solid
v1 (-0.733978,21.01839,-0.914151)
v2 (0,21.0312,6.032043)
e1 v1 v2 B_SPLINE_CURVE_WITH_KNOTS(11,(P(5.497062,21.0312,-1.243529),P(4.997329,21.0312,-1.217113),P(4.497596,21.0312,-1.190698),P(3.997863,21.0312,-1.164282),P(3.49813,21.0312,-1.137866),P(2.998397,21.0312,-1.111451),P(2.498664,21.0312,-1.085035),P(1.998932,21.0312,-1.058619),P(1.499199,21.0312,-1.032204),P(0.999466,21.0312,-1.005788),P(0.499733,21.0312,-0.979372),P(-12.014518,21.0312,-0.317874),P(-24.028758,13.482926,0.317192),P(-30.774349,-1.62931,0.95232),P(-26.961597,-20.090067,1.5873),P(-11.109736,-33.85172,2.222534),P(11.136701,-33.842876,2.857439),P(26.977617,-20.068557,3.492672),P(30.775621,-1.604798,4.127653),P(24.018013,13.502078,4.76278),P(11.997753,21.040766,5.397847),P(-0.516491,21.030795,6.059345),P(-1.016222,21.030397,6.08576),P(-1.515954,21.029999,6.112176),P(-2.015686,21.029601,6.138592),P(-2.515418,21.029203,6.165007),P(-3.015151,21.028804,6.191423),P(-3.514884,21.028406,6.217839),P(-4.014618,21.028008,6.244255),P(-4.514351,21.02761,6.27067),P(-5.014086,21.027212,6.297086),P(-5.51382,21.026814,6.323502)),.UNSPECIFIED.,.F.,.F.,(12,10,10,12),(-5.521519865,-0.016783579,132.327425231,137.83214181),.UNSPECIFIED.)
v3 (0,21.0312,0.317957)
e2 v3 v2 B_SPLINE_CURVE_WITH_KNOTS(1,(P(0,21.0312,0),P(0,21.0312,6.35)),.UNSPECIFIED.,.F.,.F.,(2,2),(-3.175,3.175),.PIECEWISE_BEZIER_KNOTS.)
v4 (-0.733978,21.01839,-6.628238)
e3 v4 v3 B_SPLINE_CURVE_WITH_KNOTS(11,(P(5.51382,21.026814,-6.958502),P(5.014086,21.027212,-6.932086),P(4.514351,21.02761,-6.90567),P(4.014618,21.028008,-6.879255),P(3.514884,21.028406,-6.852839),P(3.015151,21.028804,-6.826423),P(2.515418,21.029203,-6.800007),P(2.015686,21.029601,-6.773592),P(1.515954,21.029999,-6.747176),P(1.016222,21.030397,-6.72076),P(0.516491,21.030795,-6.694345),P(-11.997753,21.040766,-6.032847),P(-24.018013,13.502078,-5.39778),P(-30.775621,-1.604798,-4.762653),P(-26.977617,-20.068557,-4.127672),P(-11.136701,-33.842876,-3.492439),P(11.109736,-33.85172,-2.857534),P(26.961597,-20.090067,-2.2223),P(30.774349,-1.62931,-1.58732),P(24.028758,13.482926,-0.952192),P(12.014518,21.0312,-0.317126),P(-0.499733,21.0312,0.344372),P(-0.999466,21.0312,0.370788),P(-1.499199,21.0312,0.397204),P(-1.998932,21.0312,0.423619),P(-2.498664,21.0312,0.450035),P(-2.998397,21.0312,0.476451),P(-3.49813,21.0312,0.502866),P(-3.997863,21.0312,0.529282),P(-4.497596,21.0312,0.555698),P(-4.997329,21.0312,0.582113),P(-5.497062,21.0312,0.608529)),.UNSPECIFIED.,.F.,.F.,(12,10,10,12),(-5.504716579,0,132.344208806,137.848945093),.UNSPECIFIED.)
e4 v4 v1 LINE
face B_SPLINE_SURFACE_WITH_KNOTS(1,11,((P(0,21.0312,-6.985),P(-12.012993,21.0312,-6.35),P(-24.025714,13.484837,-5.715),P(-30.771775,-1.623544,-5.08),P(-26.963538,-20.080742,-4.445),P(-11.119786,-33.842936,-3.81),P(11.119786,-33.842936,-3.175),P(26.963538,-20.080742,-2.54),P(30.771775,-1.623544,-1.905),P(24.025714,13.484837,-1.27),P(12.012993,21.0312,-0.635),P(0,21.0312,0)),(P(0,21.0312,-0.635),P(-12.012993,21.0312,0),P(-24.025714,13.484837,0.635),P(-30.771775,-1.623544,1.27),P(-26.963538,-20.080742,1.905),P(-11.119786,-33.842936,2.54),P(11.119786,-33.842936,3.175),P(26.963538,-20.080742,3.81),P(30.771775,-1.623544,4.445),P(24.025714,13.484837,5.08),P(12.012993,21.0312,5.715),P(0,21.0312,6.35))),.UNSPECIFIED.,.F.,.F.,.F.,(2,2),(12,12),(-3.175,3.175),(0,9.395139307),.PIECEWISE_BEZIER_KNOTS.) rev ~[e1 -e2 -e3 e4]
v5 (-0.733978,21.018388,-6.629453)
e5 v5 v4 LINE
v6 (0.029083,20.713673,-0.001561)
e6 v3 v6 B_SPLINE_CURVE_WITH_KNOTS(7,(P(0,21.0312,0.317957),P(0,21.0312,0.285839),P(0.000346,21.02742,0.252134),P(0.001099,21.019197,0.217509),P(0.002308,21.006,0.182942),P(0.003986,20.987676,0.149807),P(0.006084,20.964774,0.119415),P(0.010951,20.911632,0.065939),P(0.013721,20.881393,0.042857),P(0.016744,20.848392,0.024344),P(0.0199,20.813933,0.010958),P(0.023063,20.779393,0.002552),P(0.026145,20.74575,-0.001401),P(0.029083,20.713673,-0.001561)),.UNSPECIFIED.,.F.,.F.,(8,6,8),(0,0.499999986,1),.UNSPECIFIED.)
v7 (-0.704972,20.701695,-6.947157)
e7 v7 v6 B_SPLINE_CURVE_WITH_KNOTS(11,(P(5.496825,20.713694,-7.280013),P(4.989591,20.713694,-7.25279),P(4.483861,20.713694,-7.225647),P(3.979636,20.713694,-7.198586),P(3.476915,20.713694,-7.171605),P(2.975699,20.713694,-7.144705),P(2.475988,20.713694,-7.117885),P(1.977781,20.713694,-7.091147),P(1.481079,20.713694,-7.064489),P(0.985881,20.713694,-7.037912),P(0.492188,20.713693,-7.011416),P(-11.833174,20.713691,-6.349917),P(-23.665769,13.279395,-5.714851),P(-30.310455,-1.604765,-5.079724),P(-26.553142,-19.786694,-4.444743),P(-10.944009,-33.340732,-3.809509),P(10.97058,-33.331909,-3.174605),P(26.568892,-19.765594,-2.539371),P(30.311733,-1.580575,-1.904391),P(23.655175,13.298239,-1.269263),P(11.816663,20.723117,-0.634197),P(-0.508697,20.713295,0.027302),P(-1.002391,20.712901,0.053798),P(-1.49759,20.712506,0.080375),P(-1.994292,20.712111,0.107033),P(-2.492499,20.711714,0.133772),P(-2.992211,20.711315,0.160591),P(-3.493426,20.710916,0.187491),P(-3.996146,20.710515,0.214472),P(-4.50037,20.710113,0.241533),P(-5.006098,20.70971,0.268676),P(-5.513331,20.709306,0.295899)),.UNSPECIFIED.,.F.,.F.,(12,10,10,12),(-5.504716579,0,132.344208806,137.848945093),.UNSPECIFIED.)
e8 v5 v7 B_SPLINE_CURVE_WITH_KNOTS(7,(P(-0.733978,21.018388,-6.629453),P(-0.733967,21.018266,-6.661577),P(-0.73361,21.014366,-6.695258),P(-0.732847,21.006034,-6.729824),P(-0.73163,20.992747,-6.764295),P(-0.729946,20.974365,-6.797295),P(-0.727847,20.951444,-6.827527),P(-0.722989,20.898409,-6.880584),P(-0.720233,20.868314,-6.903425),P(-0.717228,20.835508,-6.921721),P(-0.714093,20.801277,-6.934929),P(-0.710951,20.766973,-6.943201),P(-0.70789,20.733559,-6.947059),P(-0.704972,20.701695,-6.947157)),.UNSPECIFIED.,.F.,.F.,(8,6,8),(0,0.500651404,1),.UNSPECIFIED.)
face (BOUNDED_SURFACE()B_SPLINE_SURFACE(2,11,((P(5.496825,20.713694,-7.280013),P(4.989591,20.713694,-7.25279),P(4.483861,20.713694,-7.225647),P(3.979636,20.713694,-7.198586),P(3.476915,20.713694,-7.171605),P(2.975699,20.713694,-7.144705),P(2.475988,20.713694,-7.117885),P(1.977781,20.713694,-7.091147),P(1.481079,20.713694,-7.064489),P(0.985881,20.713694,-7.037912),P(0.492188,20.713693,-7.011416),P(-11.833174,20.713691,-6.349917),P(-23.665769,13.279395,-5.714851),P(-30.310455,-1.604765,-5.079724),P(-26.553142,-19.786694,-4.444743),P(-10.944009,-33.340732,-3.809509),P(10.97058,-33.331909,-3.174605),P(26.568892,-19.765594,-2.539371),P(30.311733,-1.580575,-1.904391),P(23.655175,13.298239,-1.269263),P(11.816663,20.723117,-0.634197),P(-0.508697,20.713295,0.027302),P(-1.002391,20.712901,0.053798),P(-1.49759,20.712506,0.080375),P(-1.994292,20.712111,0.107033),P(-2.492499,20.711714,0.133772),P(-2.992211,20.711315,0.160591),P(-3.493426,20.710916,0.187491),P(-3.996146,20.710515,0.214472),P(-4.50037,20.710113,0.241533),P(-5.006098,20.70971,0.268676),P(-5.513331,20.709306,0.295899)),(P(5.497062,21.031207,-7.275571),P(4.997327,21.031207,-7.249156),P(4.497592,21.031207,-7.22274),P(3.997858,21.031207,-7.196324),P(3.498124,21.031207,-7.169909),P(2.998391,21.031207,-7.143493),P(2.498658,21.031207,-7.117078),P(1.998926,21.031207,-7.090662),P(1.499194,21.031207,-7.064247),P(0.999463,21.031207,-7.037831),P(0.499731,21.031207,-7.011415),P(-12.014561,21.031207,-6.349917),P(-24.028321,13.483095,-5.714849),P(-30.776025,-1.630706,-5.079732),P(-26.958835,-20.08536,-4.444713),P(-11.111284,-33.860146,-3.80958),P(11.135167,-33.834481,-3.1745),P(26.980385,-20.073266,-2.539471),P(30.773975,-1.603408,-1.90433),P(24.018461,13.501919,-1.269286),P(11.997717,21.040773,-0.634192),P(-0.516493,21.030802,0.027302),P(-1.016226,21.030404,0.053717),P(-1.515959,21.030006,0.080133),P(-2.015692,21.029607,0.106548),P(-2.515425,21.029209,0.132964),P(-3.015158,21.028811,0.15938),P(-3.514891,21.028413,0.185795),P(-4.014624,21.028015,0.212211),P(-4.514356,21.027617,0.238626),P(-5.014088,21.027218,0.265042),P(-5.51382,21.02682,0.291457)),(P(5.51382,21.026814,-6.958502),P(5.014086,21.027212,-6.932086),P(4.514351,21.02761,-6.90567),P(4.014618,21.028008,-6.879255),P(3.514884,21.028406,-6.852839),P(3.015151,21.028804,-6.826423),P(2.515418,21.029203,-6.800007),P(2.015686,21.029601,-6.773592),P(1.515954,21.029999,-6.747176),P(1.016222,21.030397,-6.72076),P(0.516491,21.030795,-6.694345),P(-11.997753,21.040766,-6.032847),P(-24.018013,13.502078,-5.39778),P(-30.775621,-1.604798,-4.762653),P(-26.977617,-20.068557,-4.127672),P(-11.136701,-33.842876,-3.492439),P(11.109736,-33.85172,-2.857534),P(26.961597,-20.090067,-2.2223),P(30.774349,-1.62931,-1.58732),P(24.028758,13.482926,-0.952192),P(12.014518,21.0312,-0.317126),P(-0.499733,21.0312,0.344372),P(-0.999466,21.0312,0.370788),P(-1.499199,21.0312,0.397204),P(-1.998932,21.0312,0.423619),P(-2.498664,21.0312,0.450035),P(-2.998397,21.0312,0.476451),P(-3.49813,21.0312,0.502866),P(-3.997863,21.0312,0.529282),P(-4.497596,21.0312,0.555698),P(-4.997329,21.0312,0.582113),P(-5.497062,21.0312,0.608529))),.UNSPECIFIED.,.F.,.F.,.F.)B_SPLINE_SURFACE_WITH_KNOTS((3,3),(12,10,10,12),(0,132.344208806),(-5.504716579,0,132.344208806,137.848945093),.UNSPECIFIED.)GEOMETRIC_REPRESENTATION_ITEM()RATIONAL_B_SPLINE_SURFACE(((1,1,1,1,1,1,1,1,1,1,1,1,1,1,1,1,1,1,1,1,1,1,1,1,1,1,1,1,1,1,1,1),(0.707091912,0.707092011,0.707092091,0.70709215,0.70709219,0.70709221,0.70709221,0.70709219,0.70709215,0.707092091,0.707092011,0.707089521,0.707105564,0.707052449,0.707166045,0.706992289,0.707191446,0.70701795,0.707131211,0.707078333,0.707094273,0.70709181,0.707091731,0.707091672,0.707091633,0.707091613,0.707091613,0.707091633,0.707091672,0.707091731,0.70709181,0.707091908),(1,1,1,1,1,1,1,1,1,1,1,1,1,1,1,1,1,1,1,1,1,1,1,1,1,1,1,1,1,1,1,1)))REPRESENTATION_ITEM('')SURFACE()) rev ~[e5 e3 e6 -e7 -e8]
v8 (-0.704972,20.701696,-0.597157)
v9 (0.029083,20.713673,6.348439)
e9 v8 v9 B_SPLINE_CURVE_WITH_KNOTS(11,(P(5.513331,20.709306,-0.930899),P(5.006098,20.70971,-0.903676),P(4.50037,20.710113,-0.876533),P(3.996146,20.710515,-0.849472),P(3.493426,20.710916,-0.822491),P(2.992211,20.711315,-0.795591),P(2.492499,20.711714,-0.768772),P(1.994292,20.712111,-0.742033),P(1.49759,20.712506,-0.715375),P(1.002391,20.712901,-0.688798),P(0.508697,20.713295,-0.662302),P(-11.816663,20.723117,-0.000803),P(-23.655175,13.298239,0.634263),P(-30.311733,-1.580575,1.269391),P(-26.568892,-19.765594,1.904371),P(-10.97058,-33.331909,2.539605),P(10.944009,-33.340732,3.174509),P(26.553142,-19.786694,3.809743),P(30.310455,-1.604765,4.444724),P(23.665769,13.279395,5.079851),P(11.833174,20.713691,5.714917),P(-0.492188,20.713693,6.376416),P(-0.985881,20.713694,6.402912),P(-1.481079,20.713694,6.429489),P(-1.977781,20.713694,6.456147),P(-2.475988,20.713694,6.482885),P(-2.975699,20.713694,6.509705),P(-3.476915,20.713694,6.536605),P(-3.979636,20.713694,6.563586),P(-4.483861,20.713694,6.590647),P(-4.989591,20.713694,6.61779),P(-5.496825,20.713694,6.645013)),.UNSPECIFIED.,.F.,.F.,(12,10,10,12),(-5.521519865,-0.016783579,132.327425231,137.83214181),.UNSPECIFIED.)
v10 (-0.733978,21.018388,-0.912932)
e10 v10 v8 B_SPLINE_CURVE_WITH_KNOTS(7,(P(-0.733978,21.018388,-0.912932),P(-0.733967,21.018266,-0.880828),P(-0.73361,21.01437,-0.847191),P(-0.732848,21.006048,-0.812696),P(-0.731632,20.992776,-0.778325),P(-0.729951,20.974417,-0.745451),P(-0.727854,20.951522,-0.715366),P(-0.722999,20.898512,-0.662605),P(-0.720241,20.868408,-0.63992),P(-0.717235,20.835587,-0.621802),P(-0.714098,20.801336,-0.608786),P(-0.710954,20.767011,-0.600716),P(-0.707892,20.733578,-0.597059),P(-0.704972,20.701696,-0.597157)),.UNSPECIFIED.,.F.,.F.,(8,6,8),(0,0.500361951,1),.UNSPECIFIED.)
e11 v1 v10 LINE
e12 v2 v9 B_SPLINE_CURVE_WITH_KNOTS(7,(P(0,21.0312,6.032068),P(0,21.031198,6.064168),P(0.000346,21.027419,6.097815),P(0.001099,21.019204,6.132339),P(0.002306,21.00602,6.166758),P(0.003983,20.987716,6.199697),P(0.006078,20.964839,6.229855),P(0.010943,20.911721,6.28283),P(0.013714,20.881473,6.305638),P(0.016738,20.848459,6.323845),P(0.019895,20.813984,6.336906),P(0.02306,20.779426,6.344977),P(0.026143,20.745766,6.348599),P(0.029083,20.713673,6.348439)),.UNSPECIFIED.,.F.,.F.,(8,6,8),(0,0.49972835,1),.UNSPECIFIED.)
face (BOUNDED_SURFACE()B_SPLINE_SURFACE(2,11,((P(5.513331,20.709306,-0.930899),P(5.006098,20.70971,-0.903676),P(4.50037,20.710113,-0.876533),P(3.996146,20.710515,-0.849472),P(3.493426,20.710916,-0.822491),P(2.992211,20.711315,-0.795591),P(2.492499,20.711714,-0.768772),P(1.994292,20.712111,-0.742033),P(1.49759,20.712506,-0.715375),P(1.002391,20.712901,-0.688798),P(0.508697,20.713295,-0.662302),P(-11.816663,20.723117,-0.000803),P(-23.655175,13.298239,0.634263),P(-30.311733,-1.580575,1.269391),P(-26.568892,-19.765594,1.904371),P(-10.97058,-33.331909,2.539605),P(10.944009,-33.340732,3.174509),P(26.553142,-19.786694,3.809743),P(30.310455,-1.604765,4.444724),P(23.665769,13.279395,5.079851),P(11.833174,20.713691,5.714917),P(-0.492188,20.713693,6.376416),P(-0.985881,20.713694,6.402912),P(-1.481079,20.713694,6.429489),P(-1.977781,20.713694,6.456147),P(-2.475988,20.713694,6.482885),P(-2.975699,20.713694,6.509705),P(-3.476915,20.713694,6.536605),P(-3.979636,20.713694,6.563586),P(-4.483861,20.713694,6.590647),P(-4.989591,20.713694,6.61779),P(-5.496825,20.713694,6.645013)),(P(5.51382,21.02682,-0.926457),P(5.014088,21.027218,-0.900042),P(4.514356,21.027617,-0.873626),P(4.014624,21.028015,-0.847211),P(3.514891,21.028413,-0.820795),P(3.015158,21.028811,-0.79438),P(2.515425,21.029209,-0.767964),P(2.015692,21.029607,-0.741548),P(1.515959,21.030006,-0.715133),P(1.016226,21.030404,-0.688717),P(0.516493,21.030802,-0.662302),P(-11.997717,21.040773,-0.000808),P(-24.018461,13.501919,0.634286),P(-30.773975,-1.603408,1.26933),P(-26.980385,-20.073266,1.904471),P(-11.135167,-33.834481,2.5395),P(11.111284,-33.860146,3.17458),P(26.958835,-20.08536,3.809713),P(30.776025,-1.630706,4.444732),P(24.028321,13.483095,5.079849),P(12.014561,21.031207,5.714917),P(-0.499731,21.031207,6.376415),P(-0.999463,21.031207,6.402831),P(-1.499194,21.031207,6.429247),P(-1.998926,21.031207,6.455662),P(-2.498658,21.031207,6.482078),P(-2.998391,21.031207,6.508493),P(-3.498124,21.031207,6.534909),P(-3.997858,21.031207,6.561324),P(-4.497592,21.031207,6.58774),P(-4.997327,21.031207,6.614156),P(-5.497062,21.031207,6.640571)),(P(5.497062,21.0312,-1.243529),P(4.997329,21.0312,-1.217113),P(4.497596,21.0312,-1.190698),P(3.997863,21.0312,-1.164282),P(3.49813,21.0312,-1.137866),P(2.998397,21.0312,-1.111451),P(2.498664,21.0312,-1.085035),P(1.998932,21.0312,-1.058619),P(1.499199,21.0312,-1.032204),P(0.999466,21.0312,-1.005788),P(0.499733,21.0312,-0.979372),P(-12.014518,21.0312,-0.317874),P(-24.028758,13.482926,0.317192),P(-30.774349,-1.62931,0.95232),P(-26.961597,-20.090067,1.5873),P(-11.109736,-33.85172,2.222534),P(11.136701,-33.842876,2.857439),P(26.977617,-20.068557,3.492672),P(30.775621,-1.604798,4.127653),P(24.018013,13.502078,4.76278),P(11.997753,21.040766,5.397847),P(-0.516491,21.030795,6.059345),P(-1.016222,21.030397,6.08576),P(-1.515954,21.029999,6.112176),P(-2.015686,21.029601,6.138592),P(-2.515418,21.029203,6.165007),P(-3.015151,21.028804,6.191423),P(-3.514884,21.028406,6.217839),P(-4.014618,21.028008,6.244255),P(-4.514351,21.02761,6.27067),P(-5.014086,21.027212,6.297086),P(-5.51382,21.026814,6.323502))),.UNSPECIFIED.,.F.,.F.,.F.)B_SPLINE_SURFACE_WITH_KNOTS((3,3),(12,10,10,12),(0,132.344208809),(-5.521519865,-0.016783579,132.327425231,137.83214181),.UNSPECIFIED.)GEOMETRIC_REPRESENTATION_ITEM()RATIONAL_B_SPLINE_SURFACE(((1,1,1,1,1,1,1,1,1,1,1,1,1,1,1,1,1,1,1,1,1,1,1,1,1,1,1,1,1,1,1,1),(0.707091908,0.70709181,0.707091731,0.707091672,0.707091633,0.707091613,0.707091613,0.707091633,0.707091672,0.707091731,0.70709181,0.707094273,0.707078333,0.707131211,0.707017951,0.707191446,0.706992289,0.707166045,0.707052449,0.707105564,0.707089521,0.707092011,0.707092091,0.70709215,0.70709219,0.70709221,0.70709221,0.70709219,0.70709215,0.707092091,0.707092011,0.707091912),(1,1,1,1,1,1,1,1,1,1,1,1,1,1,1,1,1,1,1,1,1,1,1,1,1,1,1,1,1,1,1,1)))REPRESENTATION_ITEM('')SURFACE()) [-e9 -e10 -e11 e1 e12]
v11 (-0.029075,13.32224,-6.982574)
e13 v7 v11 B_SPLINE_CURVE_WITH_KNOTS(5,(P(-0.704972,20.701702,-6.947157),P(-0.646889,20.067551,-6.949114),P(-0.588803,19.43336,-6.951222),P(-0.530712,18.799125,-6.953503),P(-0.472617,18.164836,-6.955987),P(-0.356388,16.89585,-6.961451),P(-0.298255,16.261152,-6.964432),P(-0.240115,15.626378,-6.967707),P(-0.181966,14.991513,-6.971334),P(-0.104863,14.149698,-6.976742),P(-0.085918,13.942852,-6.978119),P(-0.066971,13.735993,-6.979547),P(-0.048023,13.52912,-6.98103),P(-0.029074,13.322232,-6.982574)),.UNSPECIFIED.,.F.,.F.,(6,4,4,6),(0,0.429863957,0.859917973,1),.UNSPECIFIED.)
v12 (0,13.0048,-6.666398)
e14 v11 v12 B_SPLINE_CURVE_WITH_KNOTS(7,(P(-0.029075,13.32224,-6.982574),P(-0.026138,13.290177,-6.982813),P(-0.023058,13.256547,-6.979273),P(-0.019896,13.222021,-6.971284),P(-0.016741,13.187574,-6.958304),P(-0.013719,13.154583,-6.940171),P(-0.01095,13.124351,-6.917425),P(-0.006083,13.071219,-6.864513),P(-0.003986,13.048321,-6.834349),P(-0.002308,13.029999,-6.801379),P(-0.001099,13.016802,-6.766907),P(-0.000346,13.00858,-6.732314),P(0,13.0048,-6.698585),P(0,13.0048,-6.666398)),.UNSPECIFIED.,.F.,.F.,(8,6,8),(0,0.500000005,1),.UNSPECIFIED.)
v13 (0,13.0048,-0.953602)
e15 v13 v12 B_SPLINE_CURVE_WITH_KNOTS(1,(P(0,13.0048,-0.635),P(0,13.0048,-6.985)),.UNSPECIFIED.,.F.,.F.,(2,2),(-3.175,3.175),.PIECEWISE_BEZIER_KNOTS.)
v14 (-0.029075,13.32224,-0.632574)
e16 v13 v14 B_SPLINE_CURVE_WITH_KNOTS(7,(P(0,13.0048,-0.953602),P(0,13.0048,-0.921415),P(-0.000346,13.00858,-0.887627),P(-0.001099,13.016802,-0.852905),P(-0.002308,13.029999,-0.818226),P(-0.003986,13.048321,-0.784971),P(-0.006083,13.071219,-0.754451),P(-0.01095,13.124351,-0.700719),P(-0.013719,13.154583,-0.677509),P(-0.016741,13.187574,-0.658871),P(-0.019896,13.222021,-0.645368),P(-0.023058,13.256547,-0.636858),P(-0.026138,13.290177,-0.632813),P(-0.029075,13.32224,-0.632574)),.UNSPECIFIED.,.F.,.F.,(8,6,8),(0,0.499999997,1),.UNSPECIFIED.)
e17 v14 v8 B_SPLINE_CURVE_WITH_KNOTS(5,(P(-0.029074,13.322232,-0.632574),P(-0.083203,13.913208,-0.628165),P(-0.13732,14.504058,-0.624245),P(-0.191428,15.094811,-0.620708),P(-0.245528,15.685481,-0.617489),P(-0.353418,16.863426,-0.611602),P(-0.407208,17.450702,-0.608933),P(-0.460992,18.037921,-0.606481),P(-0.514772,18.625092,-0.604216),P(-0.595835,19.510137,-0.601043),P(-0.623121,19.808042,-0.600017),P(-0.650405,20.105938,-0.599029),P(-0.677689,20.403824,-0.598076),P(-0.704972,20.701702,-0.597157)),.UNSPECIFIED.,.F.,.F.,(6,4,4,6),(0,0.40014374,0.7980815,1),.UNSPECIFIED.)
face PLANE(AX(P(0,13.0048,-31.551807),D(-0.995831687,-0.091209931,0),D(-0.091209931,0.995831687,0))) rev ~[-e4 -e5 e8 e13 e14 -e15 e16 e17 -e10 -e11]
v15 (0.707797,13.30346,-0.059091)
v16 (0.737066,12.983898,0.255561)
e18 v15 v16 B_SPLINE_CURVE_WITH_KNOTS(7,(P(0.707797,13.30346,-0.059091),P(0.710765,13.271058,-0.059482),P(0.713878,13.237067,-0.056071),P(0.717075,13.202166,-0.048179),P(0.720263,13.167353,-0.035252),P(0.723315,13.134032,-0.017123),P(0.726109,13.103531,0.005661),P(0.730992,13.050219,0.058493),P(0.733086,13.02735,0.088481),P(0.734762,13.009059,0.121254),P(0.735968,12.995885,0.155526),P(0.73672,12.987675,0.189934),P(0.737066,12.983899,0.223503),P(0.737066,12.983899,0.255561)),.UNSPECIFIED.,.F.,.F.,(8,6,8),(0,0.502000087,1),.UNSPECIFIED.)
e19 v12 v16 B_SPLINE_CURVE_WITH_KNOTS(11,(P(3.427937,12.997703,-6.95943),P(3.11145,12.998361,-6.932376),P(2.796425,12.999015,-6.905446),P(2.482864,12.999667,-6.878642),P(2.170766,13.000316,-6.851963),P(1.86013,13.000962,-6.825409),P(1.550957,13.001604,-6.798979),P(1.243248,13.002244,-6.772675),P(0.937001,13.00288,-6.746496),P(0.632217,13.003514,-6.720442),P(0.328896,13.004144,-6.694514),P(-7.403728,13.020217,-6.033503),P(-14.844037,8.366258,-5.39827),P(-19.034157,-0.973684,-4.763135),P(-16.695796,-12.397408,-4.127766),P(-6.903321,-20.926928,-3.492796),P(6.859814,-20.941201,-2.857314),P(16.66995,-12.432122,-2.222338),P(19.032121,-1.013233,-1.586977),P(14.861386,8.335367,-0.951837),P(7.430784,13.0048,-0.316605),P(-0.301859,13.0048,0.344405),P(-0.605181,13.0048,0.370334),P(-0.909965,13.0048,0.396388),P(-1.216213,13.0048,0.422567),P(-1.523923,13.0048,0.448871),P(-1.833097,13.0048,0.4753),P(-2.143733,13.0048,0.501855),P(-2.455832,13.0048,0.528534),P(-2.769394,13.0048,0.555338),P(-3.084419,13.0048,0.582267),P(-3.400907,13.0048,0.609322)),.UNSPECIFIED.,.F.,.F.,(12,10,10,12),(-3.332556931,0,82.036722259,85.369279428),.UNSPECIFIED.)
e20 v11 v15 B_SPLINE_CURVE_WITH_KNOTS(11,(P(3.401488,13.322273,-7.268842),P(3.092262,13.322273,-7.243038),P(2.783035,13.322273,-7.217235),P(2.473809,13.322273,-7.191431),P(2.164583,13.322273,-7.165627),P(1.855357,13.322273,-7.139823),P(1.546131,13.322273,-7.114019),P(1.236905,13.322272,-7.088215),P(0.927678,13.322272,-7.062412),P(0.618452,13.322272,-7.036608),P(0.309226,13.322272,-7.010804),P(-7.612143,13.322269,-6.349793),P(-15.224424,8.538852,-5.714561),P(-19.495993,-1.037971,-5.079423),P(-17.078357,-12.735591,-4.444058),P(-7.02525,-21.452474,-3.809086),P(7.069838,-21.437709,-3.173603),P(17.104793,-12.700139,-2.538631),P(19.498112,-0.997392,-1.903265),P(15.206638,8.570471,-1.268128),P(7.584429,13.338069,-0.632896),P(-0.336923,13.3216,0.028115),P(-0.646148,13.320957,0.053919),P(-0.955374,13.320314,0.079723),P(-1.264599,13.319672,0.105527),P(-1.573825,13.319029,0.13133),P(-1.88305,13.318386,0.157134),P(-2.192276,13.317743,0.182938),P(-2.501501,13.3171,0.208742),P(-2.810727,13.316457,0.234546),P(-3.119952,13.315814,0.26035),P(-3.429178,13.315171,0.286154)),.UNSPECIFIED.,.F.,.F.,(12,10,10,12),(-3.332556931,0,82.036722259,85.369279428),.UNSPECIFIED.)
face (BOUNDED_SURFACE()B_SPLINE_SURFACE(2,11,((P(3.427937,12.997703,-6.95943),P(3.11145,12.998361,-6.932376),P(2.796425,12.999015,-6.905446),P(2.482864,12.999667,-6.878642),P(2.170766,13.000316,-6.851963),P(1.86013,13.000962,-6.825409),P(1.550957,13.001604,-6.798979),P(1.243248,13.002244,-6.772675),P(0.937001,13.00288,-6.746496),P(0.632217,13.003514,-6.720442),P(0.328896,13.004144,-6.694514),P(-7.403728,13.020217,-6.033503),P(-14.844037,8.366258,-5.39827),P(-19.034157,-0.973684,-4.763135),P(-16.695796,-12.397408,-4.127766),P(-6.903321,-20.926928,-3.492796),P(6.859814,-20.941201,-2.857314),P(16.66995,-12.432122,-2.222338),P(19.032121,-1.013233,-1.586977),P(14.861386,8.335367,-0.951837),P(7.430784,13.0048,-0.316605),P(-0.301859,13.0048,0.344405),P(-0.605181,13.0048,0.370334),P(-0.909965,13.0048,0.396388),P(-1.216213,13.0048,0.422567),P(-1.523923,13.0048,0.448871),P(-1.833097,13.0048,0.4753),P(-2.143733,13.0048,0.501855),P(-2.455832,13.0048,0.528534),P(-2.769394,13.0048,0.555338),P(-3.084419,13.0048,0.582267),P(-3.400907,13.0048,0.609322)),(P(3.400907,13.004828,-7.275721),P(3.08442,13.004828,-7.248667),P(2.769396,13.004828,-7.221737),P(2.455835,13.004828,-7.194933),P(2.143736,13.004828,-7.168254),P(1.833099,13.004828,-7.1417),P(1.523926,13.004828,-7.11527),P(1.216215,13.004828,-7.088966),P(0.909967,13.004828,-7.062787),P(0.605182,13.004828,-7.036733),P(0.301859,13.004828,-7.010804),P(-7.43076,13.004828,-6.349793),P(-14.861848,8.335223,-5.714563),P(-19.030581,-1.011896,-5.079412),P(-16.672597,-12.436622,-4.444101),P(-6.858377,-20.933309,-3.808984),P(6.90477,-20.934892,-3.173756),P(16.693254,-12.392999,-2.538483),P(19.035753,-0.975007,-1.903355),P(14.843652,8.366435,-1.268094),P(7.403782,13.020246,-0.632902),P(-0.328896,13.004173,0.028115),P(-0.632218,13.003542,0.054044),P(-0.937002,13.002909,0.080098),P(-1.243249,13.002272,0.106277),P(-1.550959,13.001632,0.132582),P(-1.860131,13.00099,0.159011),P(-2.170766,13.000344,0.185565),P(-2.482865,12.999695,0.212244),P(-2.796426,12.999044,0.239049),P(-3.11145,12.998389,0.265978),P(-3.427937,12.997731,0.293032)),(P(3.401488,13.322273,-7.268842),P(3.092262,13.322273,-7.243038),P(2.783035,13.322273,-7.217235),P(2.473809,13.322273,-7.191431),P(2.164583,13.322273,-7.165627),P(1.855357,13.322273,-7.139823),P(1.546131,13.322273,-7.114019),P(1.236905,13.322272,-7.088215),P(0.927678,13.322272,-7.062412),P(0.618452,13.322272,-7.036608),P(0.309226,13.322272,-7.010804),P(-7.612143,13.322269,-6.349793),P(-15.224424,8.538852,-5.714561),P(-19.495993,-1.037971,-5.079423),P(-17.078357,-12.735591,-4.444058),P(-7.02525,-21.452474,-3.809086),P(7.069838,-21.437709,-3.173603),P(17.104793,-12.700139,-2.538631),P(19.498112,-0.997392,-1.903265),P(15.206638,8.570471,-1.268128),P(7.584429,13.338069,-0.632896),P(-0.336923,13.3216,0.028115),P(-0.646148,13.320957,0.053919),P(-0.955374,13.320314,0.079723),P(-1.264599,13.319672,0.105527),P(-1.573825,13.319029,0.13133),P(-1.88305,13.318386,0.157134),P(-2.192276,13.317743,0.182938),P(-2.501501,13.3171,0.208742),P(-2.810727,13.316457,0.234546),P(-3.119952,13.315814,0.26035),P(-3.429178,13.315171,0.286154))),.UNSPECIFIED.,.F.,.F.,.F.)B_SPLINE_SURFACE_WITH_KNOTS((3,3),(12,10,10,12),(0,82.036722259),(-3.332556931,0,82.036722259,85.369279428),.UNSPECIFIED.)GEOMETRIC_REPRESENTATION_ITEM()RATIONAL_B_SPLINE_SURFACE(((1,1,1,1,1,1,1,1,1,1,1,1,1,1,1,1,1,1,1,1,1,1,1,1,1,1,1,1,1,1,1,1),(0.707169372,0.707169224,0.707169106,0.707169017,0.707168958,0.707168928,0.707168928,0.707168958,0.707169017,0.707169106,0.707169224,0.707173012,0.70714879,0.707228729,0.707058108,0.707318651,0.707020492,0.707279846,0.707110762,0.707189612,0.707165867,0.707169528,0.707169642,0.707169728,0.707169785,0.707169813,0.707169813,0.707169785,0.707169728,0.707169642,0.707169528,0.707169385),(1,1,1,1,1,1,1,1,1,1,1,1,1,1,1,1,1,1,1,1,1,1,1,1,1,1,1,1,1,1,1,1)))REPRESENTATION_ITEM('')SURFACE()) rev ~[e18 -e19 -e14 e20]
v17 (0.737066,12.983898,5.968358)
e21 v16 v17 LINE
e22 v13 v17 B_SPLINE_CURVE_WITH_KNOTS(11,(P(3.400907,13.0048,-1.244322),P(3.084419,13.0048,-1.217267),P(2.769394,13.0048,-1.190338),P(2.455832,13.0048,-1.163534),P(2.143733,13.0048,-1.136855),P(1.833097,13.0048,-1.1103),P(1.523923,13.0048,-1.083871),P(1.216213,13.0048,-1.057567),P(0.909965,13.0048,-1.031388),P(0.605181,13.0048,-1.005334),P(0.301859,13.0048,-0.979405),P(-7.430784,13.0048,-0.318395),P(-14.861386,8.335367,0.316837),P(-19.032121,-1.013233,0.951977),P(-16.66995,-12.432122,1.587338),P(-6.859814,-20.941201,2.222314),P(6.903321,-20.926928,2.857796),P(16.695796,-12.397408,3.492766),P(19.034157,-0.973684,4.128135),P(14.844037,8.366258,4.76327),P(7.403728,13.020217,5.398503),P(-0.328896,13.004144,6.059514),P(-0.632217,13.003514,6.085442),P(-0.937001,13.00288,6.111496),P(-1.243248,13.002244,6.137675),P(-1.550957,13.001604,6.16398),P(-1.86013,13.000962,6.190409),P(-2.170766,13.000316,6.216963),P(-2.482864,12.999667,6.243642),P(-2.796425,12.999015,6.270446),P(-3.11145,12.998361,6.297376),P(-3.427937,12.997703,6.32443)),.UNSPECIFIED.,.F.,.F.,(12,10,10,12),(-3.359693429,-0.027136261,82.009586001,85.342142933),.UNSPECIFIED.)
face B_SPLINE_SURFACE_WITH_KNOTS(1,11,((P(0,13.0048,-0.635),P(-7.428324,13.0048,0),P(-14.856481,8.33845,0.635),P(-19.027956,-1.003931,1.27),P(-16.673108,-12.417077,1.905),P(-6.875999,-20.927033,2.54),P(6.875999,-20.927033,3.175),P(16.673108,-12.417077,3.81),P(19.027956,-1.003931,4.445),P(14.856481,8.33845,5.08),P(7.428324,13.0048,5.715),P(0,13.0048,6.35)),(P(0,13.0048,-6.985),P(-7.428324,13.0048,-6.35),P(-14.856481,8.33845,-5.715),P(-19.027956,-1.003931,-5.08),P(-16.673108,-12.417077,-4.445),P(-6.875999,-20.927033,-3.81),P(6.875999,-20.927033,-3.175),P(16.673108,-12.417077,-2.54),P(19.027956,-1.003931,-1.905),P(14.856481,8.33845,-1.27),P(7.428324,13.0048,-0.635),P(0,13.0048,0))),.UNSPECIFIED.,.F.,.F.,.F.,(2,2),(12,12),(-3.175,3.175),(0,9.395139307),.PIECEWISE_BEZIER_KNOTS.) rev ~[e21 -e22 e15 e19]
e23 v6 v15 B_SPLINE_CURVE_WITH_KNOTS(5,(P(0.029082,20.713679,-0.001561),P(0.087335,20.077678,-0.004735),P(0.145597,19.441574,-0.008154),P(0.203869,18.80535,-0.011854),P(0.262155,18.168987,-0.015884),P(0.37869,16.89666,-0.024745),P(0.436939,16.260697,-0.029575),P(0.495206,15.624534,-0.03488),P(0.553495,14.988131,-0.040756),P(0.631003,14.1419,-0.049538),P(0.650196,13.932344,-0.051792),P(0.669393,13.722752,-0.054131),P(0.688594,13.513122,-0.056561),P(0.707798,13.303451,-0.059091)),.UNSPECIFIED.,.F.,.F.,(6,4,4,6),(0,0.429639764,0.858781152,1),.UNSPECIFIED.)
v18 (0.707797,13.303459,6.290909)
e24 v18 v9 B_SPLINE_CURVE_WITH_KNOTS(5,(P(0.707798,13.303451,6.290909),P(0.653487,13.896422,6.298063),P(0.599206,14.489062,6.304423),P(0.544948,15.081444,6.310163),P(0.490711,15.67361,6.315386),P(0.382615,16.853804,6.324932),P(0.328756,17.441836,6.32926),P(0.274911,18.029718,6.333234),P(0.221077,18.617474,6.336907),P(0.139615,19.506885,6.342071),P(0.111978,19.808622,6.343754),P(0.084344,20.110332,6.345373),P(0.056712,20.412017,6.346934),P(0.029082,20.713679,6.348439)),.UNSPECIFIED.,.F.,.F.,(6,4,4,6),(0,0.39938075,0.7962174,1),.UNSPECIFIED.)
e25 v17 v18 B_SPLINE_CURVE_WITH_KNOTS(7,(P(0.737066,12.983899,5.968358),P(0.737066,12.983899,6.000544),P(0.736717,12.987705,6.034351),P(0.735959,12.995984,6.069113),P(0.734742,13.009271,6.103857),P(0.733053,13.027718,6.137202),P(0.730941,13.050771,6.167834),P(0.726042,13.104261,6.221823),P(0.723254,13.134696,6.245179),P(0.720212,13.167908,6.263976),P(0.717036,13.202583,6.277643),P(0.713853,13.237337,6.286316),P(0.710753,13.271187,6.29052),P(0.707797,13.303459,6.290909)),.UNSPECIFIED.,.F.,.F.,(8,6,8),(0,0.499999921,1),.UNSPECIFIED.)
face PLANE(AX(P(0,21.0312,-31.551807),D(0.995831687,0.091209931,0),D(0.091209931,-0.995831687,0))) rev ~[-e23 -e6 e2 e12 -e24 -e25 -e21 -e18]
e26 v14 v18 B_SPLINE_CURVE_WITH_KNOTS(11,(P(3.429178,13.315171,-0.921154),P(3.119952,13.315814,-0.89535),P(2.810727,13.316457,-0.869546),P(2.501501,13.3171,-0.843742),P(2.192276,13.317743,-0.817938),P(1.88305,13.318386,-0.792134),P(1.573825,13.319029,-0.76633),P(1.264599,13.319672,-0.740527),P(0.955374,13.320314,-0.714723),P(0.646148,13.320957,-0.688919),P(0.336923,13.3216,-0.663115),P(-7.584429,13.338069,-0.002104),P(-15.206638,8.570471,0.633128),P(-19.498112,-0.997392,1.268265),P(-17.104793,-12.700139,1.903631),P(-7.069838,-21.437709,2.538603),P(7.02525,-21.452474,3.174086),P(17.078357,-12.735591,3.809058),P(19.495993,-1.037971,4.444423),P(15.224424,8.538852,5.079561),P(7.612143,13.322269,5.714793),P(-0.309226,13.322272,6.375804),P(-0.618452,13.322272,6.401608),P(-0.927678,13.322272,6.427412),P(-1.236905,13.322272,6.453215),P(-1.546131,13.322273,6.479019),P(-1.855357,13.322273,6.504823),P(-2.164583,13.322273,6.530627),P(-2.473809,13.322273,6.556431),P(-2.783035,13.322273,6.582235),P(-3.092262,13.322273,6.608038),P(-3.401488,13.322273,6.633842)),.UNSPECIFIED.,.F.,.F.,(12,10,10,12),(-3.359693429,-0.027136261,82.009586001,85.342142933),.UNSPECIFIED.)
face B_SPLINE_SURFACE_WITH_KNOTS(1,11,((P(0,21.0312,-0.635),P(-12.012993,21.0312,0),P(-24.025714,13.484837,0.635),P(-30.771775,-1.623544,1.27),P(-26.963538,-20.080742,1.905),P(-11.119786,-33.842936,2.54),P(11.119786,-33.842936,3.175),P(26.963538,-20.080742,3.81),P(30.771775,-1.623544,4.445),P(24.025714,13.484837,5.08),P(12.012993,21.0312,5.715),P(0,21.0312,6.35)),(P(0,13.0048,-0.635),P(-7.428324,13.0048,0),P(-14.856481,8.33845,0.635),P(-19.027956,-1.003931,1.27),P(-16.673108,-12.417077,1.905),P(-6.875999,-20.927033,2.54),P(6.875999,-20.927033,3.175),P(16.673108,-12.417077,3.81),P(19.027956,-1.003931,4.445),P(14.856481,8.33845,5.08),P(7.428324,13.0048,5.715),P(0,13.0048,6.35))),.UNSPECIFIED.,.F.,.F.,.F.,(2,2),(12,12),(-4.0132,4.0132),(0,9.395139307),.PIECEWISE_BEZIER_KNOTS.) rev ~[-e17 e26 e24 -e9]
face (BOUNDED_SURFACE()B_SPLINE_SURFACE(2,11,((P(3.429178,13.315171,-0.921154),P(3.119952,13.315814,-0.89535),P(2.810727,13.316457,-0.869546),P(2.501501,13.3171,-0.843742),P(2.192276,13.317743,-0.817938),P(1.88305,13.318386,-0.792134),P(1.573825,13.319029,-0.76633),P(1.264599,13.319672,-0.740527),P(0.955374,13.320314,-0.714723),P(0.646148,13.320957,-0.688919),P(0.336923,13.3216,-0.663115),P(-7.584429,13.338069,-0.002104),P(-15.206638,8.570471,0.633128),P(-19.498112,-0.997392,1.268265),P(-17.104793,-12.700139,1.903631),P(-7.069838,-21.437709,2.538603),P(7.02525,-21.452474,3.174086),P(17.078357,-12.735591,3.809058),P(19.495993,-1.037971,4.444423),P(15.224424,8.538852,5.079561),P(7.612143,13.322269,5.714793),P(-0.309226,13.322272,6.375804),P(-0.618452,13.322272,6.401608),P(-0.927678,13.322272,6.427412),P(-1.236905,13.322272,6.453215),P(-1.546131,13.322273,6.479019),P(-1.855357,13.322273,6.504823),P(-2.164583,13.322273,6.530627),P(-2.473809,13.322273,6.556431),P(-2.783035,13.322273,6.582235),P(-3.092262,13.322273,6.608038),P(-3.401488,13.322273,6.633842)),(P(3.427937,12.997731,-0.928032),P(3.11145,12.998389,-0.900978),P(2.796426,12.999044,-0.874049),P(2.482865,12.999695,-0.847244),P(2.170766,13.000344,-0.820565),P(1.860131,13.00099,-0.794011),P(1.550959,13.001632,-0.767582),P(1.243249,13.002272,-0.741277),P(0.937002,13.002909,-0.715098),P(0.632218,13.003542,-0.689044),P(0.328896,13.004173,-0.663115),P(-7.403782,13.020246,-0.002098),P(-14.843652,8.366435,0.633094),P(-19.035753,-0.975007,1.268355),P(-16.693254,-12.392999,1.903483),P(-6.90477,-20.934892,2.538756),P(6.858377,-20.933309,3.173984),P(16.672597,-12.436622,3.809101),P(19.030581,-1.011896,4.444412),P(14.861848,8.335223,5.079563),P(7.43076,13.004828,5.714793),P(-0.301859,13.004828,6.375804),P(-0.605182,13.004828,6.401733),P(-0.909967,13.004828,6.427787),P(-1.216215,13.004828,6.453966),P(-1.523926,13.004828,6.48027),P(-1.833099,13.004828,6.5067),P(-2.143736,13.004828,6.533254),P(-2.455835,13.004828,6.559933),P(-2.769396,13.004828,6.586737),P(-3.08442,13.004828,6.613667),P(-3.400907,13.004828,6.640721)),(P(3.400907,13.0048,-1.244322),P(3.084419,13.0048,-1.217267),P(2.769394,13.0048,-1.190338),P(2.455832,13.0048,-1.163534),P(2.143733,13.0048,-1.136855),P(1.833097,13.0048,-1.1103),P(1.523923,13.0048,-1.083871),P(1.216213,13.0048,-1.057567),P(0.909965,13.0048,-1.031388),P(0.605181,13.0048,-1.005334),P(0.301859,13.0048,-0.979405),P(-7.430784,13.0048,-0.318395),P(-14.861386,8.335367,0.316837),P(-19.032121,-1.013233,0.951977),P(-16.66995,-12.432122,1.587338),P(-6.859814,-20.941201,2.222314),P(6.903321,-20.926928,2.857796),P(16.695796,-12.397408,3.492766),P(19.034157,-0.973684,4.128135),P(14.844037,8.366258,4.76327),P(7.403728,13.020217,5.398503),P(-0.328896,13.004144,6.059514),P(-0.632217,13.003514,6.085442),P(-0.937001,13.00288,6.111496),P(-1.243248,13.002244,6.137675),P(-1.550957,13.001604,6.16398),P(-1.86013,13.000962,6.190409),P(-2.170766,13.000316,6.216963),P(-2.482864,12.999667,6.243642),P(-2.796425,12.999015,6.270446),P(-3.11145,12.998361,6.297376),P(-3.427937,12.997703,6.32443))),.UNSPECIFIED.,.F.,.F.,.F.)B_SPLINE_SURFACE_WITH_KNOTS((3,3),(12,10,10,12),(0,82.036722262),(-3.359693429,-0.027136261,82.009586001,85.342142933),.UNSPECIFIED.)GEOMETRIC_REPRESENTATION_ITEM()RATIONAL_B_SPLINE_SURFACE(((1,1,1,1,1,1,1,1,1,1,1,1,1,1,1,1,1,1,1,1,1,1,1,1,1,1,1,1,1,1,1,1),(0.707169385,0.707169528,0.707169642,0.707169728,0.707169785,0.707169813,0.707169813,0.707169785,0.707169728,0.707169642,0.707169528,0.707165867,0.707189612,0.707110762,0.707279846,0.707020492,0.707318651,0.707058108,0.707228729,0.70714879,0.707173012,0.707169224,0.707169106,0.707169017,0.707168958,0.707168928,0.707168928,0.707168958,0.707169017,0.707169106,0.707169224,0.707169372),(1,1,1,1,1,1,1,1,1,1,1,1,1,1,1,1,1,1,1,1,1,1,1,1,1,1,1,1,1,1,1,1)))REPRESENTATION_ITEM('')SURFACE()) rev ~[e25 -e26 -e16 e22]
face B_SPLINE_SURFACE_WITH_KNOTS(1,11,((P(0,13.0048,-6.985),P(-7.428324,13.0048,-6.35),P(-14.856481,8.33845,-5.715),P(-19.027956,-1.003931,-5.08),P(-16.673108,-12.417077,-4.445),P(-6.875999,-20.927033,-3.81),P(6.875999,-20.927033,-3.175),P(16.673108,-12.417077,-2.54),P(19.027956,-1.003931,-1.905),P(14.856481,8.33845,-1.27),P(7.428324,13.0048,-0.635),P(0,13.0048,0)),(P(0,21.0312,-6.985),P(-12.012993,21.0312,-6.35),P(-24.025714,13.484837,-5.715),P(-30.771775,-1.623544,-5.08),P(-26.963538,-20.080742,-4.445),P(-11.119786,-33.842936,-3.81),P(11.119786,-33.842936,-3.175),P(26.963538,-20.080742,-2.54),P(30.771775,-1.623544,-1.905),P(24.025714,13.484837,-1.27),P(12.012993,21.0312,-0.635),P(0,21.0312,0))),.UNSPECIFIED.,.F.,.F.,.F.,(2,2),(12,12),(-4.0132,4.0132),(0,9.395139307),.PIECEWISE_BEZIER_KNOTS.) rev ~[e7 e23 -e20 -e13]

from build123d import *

# Parameters (mm, degrees)
SWEEP1_PITCH            = 6.985
SWEEP1_HEIGHT           = 6.985
SWEEP1_RADIUS           = 21.0312
SWEEP1_START_ANGLE      = 90
SKETCH4_W               = 6.35
SKETCH4_H               = 8.0264
FILLET1_R               = 0.3175
CUT_EXTRUDE1_DEPTH      = 31.551807358
CUT_EXTRUDE1_DEPTH_BACK = 31.551807358


with BuildPart() as part:
    # Sweep1: sweep along a helix
    with BuildLine() as sweep1_path:
        add(Helix(SWEEP1_PITCH, SWEEP1_HEIGHT, SWEEP1_RADIUS, center=(0, 0, -6.985), direction=(0, 0, 1), mode=Mode.PRIVATE).rotate(Axis((0, 0, -6.985), (0, 0, 1)), SWEEP1_START_ANGLE))
    # Sketch4 → Sweep1 (sweep)
    with BuildSketch(Plane(origin=(0, 0, 0), x_dir=(0, 0, -1), z_dir=(1, 0, 0))):
        with Locations((3.81, 17.018)):
            Rectangle(SKETCH4_W, SKETCH4_H)
    sweep(path=sweep1_path.line, is_frenet=True)

    # Fillet1
    fillet1_edges = [part.edges().sort_by_distance(p)[0] for p in [
        (0, -21.031177359, 2.8575),
        (0, -13.004786, 2.857500001),
        (0, -13.004785999, -3.492499999),
        (0, -21.031177358, -3.4925),
    ]]
    fillet(fillet1_edges, radius=FILLET1_R)

    # Sketch5 → Cut-Extrude1 (cut, two sides: drawn at the far end of the back side and taken through both)
    with BuildSketch(Plane.XY.offset(-CUT_EXTRUDE1_DEPTH_BACK)):
        with BuildLine():
            Line((0, 21.0312), (0.737066365, 12.983896034))
            Line((0.737066365, 12.983896034), (0.737066365, 0))
            Line((0.737066365, 0), (0, 0))
            Line((0, 0), (0, 13.0048))
            Line((0, 13.0048), (-0.733978295, 21.018388361))
            ThreePointArc((-0.733978295, 21.018388361), (-0.36704505, 21.027996846), (0, 21.0312))
        make_face()
    extrude(amount=CUT_EXTRUDE1_DEPTH + CUT_EXTRUDE1_DEPTH_BACK, mode=Mode.SUBTRACT)


solid = part.part
